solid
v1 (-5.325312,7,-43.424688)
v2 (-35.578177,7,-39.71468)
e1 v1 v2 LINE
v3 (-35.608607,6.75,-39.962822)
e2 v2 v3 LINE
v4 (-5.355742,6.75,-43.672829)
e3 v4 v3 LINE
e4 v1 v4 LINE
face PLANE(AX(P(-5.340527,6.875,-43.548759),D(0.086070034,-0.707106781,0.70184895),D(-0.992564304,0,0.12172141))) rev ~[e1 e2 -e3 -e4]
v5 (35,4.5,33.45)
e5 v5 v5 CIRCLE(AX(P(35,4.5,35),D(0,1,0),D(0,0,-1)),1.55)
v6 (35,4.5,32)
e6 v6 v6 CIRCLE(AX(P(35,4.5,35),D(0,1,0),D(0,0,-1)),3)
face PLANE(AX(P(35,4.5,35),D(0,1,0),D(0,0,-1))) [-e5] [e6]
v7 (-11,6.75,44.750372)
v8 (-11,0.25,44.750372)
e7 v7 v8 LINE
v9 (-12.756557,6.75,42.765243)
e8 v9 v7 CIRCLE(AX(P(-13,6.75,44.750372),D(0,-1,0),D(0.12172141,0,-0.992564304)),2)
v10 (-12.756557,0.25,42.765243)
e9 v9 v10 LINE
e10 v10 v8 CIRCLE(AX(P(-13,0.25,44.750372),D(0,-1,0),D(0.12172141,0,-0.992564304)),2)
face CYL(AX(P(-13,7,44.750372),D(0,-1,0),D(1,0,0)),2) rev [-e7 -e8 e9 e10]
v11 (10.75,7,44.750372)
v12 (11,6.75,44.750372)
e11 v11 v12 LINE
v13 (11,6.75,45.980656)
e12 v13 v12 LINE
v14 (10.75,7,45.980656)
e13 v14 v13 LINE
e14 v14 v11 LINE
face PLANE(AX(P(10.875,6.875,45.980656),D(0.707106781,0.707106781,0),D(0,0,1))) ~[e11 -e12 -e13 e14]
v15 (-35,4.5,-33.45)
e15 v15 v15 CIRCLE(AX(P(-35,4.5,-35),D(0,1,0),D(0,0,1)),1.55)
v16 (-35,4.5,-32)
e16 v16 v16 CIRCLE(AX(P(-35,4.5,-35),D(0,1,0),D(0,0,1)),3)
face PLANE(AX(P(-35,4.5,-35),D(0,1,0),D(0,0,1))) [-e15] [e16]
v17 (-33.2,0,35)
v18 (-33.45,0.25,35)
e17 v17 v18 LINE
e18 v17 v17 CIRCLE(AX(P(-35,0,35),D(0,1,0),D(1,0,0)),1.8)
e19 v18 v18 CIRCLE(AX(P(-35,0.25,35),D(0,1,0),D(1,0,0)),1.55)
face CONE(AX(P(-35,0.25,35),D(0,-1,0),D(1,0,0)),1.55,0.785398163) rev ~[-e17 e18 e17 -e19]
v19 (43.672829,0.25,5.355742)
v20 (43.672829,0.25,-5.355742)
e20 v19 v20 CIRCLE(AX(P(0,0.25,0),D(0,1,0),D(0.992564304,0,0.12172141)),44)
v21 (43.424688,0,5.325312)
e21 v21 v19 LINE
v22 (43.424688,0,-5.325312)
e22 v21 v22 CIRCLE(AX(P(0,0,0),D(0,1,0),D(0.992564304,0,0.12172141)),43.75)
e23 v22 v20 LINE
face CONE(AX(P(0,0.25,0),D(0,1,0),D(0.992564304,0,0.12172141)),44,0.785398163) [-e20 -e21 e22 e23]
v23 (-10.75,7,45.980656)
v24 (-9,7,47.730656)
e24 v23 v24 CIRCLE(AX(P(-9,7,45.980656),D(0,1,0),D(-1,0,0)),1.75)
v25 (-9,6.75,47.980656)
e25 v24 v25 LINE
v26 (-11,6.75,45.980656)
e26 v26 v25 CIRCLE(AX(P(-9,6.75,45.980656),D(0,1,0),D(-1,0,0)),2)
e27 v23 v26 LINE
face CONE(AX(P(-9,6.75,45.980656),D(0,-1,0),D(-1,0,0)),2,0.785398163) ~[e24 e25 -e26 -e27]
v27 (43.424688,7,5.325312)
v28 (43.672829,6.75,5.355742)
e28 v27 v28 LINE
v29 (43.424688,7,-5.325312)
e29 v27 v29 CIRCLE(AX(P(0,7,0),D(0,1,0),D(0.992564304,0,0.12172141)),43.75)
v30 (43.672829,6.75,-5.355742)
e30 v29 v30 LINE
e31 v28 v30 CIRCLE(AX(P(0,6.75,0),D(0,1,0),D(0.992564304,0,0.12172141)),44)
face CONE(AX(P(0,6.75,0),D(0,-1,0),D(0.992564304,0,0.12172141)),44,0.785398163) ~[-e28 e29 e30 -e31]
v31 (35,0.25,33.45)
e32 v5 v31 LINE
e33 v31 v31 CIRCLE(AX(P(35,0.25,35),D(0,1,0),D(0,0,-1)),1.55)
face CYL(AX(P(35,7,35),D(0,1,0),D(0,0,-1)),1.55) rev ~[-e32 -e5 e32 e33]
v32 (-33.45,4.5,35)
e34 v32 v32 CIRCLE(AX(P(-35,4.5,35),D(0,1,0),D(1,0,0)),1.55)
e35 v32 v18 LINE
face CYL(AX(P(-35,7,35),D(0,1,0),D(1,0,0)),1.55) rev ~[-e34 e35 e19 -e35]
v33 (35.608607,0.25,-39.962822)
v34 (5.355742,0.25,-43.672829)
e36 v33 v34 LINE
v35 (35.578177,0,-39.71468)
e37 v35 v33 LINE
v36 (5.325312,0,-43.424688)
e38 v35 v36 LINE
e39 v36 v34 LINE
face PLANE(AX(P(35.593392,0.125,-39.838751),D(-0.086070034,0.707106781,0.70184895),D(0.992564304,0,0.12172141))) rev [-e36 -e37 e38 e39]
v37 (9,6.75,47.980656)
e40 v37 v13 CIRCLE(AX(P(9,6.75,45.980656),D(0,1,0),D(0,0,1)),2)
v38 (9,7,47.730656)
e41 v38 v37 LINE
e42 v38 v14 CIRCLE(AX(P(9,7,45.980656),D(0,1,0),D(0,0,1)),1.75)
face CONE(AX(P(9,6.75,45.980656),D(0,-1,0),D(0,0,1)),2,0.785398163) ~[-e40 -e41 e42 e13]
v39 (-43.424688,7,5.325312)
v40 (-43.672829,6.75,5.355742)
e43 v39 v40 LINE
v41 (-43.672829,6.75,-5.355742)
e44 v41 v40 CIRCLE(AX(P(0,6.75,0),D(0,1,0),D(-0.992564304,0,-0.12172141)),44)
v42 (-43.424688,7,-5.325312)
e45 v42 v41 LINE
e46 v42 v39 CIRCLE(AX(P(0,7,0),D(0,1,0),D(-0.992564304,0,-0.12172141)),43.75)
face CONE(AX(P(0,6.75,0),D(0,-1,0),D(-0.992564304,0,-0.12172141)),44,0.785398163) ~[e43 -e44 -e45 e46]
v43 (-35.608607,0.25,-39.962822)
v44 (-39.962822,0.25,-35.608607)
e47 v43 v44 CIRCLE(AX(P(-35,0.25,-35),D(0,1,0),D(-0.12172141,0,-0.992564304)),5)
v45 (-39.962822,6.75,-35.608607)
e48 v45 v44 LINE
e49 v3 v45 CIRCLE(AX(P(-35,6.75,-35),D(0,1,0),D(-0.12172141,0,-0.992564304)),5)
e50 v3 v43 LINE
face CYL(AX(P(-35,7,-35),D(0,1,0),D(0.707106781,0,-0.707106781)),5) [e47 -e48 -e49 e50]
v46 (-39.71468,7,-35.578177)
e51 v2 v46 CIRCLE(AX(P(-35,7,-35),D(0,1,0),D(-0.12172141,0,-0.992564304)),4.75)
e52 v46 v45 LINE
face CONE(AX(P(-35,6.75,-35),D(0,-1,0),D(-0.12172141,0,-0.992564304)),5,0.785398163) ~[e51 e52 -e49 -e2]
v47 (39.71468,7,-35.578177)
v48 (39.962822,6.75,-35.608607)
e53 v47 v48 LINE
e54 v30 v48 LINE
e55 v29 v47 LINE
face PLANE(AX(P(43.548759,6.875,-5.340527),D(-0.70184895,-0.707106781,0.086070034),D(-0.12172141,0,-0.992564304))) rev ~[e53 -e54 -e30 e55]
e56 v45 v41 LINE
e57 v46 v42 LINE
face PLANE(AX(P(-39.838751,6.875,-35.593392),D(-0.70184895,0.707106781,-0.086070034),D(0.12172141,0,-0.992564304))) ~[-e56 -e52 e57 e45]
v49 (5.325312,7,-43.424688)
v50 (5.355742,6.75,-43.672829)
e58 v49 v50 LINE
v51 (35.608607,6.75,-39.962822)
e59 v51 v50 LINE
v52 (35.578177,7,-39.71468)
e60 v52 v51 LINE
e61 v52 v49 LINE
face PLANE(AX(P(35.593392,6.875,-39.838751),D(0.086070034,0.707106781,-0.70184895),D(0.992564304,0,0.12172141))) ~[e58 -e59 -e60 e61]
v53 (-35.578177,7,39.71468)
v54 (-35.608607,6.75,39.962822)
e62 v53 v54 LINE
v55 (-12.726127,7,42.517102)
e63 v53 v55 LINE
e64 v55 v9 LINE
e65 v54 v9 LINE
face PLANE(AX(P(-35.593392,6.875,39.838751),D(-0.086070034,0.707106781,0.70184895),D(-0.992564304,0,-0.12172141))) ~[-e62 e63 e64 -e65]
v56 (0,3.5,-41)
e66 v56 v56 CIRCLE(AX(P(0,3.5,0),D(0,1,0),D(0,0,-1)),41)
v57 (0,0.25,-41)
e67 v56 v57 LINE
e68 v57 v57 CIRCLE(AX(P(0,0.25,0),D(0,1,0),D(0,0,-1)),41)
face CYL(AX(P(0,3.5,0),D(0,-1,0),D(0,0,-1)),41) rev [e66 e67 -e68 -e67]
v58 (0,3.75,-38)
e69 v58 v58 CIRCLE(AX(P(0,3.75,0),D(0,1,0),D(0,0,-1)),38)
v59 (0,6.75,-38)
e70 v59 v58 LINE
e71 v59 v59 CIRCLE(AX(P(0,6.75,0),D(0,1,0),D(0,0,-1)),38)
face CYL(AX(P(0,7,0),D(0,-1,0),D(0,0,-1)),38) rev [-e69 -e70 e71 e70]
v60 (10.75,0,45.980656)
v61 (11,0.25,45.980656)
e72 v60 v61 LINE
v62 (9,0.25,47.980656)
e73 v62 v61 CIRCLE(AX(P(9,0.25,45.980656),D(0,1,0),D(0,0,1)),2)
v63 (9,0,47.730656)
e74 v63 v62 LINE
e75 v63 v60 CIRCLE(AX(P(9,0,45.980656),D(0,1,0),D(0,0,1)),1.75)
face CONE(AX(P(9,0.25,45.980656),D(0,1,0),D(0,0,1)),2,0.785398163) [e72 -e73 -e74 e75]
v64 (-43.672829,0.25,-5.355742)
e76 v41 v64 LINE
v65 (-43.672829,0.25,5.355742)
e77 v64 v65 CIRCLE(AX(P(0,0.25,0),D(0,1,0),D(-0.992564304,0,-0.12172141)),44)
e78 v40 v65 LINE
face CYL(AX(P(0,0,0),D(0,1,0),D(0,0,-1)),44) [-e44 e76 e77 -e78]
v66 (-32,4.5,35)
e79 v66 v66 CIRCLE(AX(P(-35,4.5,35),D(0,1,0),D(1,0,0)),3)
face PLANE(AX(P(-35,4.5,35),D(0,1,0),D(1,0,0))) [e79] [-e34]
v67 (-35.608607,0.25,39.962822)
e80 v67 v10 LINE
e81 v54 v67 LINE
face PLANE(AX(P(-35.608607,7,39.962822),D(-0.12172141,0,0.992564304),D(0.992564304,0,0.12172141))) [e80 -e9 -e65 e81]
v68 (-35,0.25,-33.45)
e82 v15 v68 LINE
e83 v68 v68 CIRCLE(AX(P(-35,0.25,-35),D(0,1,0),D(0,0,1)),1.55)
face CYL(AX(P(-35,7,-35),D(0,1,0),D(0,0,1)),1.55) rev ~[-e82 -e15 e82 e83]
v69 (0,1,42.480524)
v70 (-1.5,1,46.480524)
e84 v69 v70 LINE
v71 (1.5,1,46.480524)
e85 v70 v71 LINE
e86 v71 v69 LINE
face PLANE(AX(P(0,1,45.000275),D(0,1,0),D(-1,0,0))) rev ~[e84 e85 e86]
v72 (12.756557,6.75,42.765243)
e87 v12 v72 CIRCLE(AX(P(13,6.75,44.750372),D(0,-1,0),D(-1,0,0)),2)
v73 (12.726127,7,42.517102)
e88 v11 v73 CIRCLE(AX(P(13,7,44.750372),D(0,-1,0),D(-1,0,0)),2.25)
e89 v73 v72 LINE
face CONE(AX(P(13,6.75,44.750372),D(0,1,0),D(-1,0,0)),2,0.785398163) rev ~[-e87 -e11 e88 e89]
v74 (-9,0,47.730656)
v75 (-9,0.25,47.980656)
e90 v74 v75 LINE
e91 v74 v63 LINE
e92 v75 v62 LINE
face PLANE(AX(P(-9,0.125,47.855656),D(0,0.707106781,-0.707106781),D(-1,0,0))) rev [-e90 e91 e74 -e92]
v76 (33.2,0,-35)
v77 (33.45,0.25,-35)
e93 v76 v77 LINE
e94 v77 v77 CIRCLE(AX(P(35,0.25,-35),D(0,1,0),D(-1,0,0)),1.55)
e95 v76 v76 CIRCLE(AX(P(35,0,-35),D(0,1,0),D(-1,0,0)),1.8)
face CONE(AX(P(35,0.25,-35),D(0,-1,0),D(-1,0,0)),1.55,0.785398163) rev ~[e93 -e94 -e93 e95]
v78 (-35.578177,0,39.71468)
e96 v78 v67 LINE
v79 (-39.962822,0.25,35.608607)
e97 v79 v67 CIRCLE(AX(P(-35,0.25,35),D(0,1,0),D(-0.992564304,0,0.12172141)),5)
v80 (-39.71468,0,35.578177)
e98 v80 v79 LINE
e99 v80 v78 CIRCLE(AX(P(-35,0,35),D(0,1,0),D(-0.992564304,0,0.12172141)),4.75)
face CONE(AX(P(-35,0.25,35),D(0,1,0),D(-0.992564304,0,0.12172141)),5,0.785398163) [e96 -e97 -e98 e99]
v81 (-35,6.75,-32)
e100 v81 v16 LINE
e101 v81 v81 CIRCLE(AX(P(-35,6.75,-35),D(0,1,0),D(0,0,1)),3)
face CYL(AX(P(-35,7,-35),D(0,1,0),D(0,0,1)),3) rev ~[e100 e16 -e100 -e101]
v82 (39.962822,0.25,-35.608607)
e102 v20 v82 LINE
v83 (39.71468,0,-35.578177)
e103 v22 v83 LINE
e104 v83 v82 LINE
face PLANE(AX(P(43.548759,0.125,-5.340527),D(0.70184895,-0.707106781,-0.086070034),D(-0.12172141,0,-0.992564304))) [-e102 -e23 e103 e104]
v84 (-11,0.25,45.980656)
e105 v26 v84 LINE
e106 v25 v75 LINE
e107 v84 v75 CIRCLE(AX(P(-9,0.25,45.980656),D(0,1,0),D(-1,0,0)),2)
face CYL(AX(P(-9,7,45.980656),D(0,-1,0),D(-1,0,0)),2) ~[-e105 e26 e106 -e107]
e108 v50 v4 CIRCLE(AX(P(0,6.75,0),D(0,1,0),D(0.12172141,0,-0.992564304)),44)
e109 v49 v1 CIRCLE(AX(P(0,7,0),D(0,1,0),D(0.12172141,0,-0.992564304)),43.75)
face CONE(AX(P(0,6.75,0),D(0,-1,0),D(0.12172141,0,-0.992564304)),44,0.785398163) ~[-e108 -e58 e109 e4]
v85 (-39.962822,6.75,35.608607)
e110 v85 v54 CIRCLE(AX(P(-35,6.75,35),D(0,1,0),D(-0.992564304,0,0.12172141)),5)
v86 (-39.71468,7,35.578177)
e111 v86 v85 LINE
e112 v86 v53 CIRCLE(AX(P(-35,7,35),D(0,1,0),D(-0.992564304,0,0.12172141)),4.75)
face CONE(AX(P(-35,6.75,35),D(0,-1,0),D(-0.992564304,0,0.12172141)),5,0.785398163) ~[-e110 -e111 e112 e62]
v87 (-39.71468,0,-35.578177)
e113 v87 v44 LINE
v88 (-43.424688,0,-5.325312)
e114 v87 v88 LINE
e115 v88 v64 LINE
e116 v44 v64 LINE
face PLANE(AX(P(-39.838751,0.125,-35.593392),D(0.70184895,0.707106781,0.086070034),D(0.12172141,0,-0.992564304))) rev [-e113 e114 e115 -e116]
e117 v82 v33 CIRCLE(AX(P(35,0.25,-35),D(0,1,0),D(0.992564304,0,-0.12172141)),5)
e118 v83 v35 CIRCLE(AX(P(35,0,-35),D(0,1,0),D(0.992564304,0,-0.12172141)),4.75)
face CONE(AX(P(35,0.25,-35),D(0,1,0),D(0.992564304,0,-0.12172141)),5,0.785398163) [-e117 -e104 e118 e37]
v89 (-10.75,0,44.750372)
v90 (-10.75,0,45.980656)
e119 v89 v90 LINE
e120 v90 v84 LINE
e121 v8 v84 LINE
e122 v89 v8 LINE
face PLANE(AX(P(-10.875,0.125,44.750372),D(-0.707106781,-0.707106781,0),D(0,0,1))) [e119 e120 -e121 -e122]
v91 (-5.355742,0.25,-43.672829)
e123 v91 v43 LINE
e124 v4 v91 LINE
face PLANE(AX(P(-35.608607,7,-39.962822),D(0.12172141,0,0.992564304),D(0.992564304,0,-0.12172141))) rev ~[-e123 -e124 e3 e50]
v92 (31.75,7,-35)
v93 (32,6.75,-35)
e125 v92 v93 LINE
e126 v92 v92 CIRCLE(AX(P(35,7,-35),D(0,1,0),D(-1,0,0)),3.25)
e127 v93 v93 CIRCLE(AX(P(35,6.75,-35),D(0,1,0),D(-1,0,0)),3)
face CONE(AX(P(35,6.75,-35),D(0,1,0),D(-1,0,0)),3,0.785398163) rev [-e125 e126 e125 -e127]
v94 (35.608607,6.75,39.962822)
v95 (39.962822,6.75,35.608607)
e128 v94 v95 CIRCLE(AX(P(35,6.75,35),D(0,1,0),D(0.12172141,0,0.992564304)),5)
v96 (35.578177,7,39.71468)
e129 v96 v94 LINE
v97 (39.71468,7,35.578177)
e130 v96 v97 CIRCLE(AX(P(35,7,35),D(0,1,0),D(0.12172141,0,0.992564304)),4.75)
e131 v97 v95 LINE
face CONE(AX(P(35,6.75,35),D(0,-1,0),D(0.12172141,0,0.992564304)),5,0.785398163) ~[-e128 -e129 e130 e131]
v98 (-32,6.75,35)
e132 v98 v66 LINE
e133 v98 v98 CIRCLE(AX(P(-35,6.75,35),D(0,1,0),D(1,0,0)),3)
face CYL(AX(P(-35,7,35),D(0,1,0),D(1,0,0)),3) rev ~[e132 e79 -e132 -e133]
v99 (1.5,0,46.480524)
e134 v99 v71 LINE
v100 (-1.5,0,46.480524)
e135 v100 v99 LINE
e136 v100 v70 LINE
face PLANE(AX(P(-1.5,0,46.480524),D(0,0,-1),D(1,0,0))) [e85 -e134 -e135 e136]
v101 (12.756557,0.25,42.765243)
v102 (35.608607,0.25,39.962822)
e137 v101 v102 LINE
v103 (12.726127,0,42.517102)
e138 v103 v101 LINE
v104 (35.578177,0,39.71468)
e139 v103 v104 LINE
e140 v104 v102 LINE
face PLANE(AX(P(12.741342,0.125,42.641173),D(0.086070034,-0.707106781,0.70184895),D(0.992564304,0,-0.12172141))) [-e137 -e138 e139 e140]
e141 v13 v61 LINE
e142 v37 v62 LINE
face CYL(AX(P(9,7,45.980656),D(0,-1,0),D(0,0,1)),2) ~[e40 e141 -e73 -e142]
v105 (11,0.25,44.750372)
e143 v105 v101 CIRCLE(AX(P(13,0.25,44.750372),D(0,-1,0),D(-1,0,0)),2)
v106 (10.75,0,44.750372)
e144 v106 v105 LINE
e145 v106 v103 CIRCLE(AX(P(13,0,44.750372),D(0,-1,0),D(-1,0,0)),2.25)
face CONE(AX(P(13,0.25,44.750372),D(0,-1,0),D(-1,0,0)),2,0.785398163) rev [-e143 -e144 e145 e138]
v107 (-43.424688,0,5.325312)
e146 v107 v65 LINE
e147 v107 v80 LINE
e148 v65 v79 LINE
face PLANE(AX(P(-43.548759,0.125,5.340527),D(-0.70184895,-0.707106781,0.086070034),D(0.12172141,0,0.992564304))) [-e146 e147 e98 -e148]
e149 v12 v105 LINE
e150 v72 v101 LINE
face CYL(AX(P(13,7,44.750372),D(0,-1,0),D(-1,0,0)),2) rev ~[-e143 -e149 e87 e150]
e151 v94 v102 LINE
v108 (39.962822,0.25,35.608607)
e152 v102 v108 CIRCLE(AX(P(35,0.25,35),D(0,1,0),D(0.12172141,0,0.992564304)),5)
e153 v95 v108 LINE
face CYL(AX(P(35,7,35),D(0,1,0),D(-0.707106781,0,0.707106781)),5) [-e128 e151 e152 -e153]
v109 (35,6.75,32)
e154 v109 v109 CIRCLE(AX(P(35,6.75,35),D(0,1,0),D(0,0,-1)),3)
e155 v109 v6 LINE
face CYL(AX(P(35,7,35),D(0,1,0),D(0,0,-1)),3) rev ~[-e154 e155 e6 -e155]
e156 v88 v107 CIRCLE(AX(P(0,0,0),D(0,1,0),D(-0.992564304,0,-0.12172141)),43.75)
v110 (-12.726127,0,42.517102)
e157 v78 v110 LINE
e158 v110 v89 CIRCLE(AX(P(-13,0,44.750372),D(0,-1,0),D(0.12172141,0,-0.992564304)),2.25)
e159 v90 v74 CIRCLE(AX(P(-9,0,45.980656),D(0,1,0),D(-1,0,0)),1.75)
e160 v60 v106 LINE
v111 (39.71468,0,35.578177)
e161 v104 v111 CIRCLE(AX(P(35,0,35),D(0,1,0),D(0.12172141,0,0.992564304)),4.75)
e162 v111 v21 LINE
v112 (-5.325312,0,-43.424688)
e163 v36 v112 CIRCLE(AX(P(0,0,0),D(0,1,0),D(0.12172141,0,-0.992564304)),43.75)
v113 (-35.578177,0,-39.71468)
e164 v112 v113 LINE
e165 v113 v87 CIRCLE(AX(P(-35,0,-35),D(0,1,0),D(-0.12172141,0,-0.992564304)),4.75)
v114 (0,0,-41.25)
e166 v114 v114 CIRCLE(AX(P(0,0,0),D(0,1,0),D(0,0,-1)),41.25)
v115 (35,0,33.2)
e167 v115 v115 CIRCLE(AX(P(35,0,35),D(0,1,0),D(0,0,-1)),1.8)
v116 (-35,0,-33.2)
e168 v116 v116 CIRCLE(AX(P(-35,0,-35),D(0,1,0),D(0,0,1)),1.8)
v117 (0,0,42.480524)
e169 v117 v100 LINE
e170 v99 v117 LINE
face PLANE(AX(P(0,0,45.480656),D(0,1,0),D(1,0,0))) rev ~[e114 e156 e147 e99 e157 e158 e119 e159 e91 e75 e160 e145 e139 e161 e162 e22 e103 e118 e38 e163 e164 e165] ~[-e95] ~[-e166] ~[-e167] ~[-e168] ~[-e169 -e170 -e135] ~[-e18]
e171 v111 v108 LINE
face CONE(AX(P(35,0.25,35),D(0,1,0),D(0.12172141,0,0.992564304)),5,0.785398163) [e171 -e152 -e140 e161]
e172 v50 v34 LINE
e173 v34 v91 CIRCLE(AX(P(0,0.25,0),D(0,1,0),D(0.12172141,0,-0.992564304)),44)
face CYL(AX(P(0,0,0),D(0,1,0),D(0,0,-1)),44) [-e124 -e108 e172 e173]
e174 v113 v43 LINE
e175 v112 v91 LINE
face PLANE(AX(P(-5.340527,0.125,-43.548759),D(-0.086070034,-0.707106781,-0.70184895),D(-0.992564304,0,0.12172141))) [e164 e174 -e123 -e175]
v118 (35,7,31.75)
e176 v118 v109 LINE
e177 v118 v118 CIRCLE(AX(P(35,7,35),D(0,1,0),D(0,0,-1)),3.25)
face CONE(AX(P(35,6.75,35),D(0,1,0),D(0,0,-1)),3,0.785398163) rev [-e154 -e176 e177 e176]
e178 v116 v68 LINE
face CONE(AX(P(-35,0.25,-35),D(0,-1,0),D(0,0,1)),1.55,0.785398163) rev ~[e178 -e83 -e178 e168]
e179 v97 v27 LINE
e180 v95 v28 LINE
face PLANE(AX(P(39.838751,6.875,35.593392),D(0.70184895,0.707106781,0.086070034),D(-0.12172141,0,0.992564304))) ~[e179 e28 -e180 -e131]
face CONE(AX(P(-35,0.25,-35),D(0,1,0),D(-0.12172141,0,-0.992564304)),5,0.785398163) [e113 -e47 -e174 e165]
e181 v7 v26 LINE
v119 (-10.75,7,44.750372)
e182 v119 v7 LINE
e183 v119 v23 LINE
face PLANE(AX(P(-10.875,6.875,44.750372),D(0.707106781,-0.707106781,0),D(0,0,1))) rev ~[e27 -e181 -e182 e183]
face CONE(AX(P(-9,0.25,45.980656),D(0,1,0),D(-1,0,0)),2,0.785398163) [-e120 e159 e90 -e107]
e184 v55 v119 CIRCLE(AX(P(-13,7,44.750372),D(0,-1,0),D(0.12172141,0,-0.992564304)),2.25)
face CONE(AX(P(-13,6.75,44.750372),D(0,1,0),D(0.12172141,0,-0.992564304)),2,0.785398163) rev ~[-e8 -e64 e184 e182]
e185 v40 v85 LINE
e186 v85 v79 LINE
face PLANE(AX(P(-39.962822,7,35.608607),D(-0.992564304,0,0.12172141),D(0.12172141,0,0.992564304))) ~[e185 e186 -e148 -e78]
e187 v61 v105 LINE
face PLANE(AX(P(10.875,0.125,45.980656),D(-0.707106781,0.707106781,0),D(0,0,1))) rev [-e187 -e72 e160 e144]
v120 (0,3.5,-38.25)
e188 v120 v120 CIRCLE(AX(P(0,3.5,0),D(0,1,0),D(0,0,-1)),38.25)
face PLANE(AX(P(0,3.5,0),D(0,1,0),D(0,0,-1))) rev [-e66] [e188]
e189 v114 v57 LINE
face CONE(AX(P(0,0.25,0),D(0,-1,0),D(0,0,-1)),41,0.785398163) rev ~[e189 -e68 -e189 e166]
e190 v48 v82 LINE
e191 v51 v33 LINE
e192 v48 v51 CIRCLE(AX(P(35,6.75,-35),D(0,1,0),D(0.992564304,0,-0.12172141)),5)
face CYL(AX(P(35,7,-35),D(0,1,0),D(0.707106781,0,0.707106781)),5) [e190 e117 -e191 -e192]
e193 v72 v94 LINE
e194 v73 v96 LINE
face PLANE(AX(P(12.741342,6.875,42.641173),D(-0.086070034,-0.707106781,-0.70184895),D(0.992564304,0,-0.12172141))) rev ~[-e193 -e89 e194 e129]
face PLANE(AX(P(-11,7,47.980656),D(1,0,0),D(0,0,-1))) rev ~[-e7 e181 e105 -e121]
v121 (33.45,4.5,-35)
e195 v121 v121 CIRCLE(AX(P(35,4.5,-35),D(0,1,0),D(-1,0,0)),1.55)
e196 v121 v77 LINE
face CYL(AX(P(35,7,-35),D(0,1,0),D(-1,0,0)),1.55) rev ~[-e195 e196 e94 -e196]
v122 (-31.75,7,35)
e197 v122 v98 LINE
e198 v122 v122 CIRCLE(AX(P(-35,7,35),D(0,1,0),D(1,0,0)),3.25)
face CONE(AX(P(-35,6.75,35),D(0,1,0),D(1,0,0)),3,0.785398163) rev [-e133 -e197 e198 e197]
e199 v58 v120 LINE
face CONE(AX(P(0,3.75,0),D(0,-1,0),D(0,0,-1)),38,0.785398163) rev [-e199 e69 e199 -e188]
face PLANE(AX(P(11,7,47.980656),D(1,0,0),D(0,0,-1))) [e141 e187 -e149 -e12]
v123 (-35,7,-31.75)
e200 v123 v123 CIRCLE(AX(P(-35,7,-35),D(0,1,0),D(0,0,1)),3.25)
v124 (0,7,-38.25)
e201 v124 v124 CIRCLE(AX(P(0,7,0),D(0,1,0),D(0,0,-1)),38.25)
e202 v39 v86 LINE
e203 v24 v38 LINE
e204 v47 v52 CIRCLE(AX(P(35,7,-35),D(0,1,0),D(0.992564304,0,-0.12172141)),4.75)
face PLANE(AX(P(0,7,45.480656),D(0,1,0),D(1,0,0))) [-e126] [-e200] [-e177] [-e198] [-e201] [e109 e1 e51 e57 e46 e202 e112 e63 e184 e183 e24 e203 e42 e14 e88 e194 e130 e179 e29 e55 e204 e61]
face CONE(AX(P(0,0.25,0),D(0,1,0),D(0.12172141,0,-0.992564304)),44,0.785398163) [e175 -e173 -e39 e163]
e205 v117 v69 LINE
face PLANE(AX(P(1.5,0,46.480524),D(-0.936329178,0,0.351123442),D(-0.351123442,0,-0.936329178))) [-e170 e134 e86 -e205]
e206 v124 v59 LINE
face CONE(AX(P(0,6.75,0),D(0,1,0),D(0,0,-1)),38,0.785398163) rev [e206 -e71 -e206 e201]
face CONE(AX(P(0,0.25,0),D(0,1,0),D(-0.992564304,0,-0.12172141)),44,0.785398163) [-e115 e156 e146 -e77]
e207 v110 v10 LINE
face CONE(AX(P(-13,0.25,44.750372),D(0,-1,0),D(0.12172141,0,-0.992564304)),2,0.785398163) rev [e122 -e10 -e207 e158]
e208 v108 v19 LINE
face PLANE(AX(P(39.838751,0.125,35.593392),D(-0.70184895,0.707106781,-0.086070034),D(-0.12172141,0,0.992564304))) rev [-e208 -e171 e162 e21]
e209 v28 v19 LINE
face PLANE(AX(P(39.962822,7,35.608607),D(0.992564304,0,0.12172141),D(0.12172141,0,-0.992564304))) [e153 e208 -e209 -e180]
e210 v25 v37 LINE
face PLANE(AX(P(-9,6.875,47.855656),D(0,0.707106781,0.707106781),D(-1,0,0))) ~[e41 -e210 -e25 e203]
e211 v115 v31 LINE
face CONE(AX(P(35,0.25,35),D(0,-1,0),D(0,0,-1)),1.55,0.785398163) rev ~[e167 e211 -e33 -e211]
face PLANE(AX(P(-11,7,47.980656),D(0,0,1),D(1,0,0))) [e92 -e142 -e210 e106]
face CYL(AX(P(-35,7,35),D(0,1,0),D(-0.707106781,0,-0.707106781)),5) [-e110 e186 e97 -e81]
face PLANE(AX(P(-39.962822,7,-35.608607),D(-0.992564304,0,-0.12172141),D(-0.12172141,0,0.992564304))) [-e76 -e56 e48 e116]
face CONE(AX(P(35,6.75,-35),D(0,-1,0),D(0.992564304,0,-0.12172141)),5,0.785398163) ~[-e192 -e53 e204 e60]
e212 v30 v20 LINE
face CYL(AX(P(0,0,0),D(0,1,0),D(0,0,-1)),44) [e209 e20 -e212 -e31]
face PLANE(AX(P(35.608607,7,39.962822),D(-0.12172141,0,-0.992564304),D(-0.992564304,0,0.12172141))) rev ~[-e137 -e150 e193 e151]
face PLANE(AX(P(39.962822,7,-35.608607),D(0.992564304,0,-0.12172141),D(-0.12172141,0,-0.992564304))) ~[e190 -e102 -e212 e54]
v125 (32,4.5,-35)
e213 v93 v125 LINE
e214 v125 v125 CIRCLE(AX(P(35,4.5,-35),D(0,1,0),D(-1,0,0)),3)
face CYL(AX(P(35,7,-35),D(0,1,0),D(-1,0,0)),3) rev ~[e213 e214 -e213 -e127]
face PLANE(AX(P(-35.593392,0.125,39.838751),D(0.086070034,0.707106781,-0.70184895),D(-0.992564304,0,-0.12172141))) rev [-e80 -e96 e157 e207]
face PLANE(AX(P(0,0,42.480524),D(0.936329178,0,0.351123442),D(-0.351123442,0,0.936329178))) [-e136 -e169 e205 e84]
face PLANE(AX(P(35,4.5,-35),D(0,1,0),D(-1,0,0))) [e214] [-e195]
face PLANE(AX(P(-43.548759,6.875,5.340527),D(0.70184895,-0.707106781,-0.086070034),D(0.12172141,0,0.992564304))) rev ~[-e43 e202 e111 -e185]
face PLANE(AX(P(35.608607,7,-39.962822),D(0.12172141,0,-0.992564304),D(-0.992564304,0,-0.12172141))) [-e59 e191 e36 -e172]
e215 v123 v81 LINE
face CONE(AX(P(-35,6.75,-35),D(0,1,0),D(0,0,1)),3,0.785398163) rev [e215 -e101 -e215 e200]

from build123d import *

# Parameters (mm, degrees)
SZKIC2_R                                 = 1.55
DODANIE_WYCI_GNI_CIE1_DEPTH              = 7
SZKIC3_R                                 = 3
WYTNIJ_WYCI_GNI_CIE1_DEPTH               = 2.5
SZYK_KO_OWY3_COUNT                       = 4
DODANIE_WYCI_GNI_CIE2_DEPTH              = 7
LUSTRO1_AT_THE_SECOND_PLANE_COPY_1_DEPTH = 7
SZYK_KO_OWY4_COPY_1_DEPTH                = 7
SZYK_KO_OWY4_COPY_2_DEPTH                = 7
SZYK_KO_OWY4_COPY_3_DEPTH                = 7
SZYK_KO_OWY4_COPY_4_DEPTH                = 7
SZYK_KO_OWY4_COPY_5_DEPTH                = 7
SZYK_KO_OWY4_COPY_6_DEPTH                = 7
SZYK_KO_OWY4_COPY_7_DEPTH                = 7
SZYK_KO_OWY4_COPY_8_DEPTH                = 7
SZYK_KO_OWY4_COPY_9_DEPTH                = 7
SZYK_KO_OWY4_COPY_10_DEPTH               = 7
SZYK_KO_OWY4_COPY_11_DEPTH               = 7
SZYK_KO_OWY4_COPY_12_DEPTH               = 7
SZKIC6_W                                 = 22
SZKIC6_H                                 = 5
DODANIE_WYCI_GNI_CIE3_DEPTH              = 7
ZAOKR_GLENIE1_R                          = 2
SFAZOWANIE1_SIZE                         = 0.25
WYTNIJ_WYCI_GNI_CIE2_DEPTH               = 1


with BuildPart() as part:
    # Szkic1 → Obrót1 (revolve)
    with BuildSketch(Plane.XY, mode=Mode.PRIVATE) as obr_t1_sk:
        Polygon((-44, 0), (-44, 7), (-38, 7), (-38, 3.5), (-41, 3.5), (-41, 0), align=None)
    revolve(obr_t1_sk.sketch.rotate(Axis((0, 0, 0), (0, 1, 0)), 270), axis=Axis((0, 0, 0), (0, 1, 0)))

    # Szkic2 → Dodanie-wyciągnięcie1 (add)
    with BuildSketch(Plane(origin=(0, 7, 0), x_dir=(1, 0, 0), z_dir=(0, 1, 0))):
        with BuildLine():
            Line((-38.535533906, 31.464466094), (-34.446696938, 27.375629126))
            ThreePointArc((-34.446696938, 27.375629126), (-31.112698372, 31.112698372), (-27.375629126, 34.446696938))
            Line((-27.375629126, 34.446696938), (-31.464466094, 38.535533906))
            ThreePointArc((-31.464466094, 38.535533906), (-38.535533906, 38.535533906), (-38.535533906, 31.464466094))
        make_face()
        with Locations(Location((-35, 35, 0), (0, 0, 270))):
            Circle(SZKIC2_R, mode=Mode.SUBTRACT)
    dodanie_wyci_gni_cie1 = extrude(amount=-DODANIE_WYCI_GNI_CIE1_DEPTH)

    # Szkic3 → Wytnij-wyciągnięcie1 (cut)
    with BuildSketch(Plane(origin=(0, 7, 0), x_dir=(1, 0, 0), z_dir=(0, 1, 0))):
        with Locations(Location((-35, 35, 0), (0, 0, 270))):
            Circle(SZKIC3_R)
    wytnij_wyci_gni_cie1 = extrude(amount=-WYTNIJ_WYCI_GNI_CIE1_DEPTH, mode=Mode.SUBTRACT)

    # Szyk kołowy3: Dodanie-wyciągnięcie1, Wytnij-wyciągnięcie1 ×4 about axis
    szyk_ko_owy3_axis = Axis((0, 0, 0), (0, 1, 0))
    add([dodanie_wyci_gni_cie1.rotate(szyk_ko_owy3_axis, i * 360 / SZYK_KO_OWY3_COUNT) for i in range(1, SZYK_KO_OWY3_COUNT)])
    add([wytnij_wyci_gni_cie1.rotate(szyk_ko_owy3_axis, i * 360 / SZYK_KO_OWY3_COUNT) for i in range(1, SZYK_KO_OWY3_COUNT)], mode=Mode.SUBTRACT)

    # Szkic4 → Dodanie-wyciągnięcie2 (add)
    with BuildSketch(Plane(origin=(0, 7, 0), x_dir=(1, 0, 0), z_dir=(0, 1, 0))):
        with BuildLine():
            Line((-39.962821522, 35.608607049), (-43.672829394, 5.355742035))
            ThreePointArc((-43.672829394, 5.355742035), (-40.58181804, 17.003412732), (-34.446696938, 27.375629126))
            Line((-34.446696938, 27.375629126), (-38.535533906, 31.464466094))
            ThreePointArc((-38.535533906, 31.464466094), (-39.727471556, 33.371806925), (-39.962821522, 35.608607049))
        make_face()
    dodanie_wyci_gni_cie2 = extrude(amount=-DODANIE_WYCI_GNI_CIE2_DEPTH)

    # Lustro1: Dodanie-wyciągnięcie2 across plane
    add(dodanie_wyci_gni_cie2.mirror(Plane.XY))

    # Lustro1 at the second plane: Dodanie-wyciągnięcie2 across plane
    add(dodanie_wyci_gni_cie2.mirror(Plane(origin=(0, 0, 0), x_dir=(0, 0, 1), z_dir=(1, 0, 0))))

    # Lustro1 at the second plane copy 1 sketc → Lustro1 at the second plane copy 1 (add)
    with BuildSketch(Plane(origin=(0, 7, 0), x_dir=(-1, 0, 0), z_dir=(0, 1, 0))):
        with BuildLine():
            Line((-39.962821522, 35.608607049), (-43.672829394, 5.355742035))
            ThreePointArc((-43.672829394, 5.355742035), (-40.58181804, 17.003412732), (-34.446696938, 27.375629126))
            Line((-34.446696938, 27.375629126), (-38.535533906, 31.464466094))
            ThreePointArc((-38.535533906, 31.464466094), (-39.727471556, 33.371806925), (-39.962821522, 35.608607049))
        make_face()
    extrude(amount=-LUSTRO1_AT_THE_SECOND_PLANE_COPY_1_DEPTH)

    # Szyk kołowy4 copy 1 sketch → Szyk kołowy4 copy 1 (add)
    with BuildSketch(Plane.ZX.offset(7)):
        with BuildLine():
            Line((-39.962821522, -35.608607049), (-43.672829394, -5.355742035))
            ThreePointArc((-43.672829394, -5.355742035), (-40.58181804, -17.003412732), (-34.446696938, -27.375629126))
            Line((-34.446696938, -27.375629126), (-38.535533906, -31.464466094))
            ThreePointArc((-38.535533906, -31.464466094), (-39.727471556, -33.371806925), (-39.962821522, -35.608607049))
        make_face()
    extrude(amount=-SZYK_KO_OWY4_COPY_1_DEPTH)

    # Szyk kołowy4 copy 2 sketch → Szyk kołowy4 copy 2 (add)
    with BuildSketch(Plane(origin=(0, 7, 0), x_dir=(-1, 0, 0), z_dir=(0, 1, 0))):
        with BuildLine():
            Line((-39.962821522, -35.608607049), (-43.672829394, -5.355742035))
            ThreePointArc((-43.672829394, -5.355742035), (-40.58181804, -17.003412732), (-34.446696938, -27.375629126))
            Line((-34.446696938, -27.375629126), (-38.535533906, -31.464466094))
            ThreePointArc((-38.535533906, -31.464466094), (-39.727471556, -33.371806925), (-39.962821522, -35.608607049))
        make_face()
    extrude(amount=-SZYK_KO_OWY4_COPY_2_DEPTH)

    # Szyk kołowy4 copy 3 sketch → Szyk kołowy4 copy 3 (add)
    with BuildSketch(Plane(origin=(0, 7, 0), x_dir=(0, 0, -1), z_dir=(0, 1, 0))):
        with BuildLine():
            Line((-39.962821522, -35.608607049), (-43.672829394, -5.355742035))
            ThreePointArc((-43.672829394, -5.355742035), (-40.58181804, -17.003412732), (-34.446696938, -27.375629126))
            Line((-34.446696938, -27.375629126), (-38.535533906, -31.464466094))
            ThreePointArc((-38.535533906, -31.464466094), (-39.727471556, -33.371806925), (-39.962821522, -35.608607049))
        make_face()
    extrude(amount=-SZYK_KO_OWY4_COPY_3_DEPTH)

    # Szyk kołowy4 copy 4 sketch → Szyk kołowy4 copy 4 (add)
    with BuildSketch(Plane(origin=(0, 7, 0), x_dir=(0, 0, -1), z_dir=(0, 1, 0))):
        with BuildLine():
            Line((-39.962821522, -35.608607049), (-43.672829394, -5.355742035))
            ThreePointArc((-43.672829394, -5.355742035), (-40.58181804, -17.003412732), (-34.446696938, -27.375629126))
            Line((-34.446696938, -27.375629126), (-38.535533906, -31.464466094))
            ThreePointArc((-38.535533906, -31.464466094), (-39.727471556, -33.371806925), (-39.962821522, -35.608607049))
        make_face()
    extrude(amount=-SZYK_KO_OWY4_COPY_4_DEPTH)

    # Szyk kołowy4 copy 5 sketch → Szyk kołowy4 copy 5 (add)
    with BuildSketch(Plane(origin=(0, 7, 0), x_dir=(1, 0, 0), z_dir=(0, 1, 0))):
        with BuildLine():
            Line((-39.962821522, -35.608607049), (-43.672829394, -5.355742035))
            ThreePointArc((-43.672829394, -5.355742035), (-40.58181804, -17.003412732), (-34.446696938, -27.375629126))
            Line((-34.446696938, -27.375629126), (-38.535533906, -31.464466094))
            ThreePointArc((-38.535533906, -31.464466094), (-39.727471556, -33.371806925), (-39.962821522, -35.608607049))
        make_face()
    extrude(amount=-SZYK_KO_OWY4_COPY_5_DEPTH)

    # Szyk kołowy4 copy 6 sketch → Szyk kołowy4 copy 6 (add)
    with BuildSketch(Plane.ZX.offset(7)):
        with BuildLine():
            Line((-39.962821522, -35.608607049), (-43.672829394, -5.355742035))
            ThreePointArc((-43.672829394, -5.355742035), (-40.58181804, -17.003412732), (-34.446696938, -27.375629126))
            Line((-34.446696938, -27.375629126), (-38.535533906, -31.464466094))
            ThreePointArc((-38.535533906, -31.464466094), (-39.727471556, -33.371806925), (-39.962821522, -35.608607049))
        make_face()
    extrude(amount=-SZYK_KO_OWY4_COPY_6_DEPTH)

    # Szyk kołowy4 copy 7 sketch → Szyk kołowy4 copy 7 (add)
    with BuildSketch(Plane(origin=(0, 7, 0), x_dir=(0, 0, -1), z_dir=(0, 1, 0))):
        with BuildLine():
            Line((-39.962821522, 35.608607049), (-43.672829394, 5.355742035))
            ThreePointArc((-43.672829394, 5.355742035), (-40.58181804, 17.003412732), (-34.446696938, 27.375629126))
            Line((-34.446696938, 27.375629126), (-38.535533906, 31.464466094))
            ThreePointArc((-38.535533906, 31.464466094), (-39.727471556, 33.371806925), (-39.962821522, 35.608607049))
        make_face()
    extrude(amount=-SZYK_KO_OWY4_COPY_7_DEPTH)

    # Szyk kołowy4 copy 8 sketch → Szyk kołowy4 copy 8 (add)
    with BuildSketch(Plane(origin=(0, 7, 0), x_dir=(1, 0, 0), z_dir=(0, 1, 0))):
        with BuildLine():
            Line((-39.962821522, 35.608607049), (-43.672829394, 5.355742035))
            ThreePointArc((-43.672829394, 5.355742035), (-40.58181804, 17.003412732), (-34.446696938, 27.375629126))
            Line((-34.446696938, 27.375629126), (-38.535533906, 31.464466094))
            ThreePointArc((-38.535533906, 31.464466094), (-39.727471556, 33.371806925), (-39.962821522, 35.608607049))
        make_face()
    extrude(amount=-SZYK_KO_OWY4_COPY_8_DEPTH)

    # Szyk kołowy4 copy 9 sketch → Szyk kołowy4 copy 9 (add)
    with BuildSketch(Plane.ZX.offset(7)):
        with BuildLine():
            Line((-39.962821522, 35.608607049), (-43.672829394, 5.355742035))
            ThreePointArc((-43.672829394, 5.355742035), (-40.58181804, 17.003412732), (-34.446696938, 27.375629126))
            Line((-34.446696938, 27.375629126), (-38.535533906, 31.464466094))
            ThreePointArc((-38.535533906, 31.464466094), (-39.727471556, 33.371806925), (-39.962821522, 35.608607049))
        make_face()
    extrude(amount=-SZYK_KO_OWY4_COPY_9_DEPTH)

    # Szyk kołowy4 copy 10 sketch → Szyk kołowy4 copy 10 (add)
    with BuildSketch(Plane.ZX.offset(7)):
        with BuildLine():
            Line((-39.962821522, 35.608607049), (-43.672829394, 5.355742035))
            ThreePointArc((-43.672829394, 5.355742035), (-40.58181804, 17.003412732), (-34.446696938, 27.375629126))
            Line((-34.446696938, 27.375629126), (-38.535533906, 31.464466094))
            ThreePointArc((-38.535533906, 31.464466094), (-39.727471556, 33.371806925), (-39.962821522, 35.608607049))
        make_face()
    extrude(amount=-SZYK_KO_OWY4_COPY_10_DEPTH)

    # Szyk kołowy4 copy 11 sketch → Szyk kołowy4 copy 11 (add)
    with BuildSketch(Plane(origin=(0, 7, 0), x_dir=(-1, 0, 0), z_dir=(0, 1, 0))):
        with BuildLine():
            Line((-39.962821522, 35.608607049), (-43.672829394, 5.355742035))
            ThreePointArc((-43.672829394, 5.355742035), (-40.58181804, 17.003412732), (-34.446696938, 27.375629126))
            Line((-34.446696938, 27.375629126), (-38.535533906, 31.464466094))
            ThreePointArc((-38.535533906, 31.464466094), (-39.727471556, 33.371806925), (-39.962821522, 35.608607049))
        make_face()
    extrude(amount=-SZYK_KO_OWY4_COPY_11_DEPTH)

    # Szyk kołowy4 copy 12 sketch → Szyk kołowy4 copy 12 (add)
    with BuildSketch(Plane(origin=(0, 7, 0), x_dir=(0, 0, -1), z_dir=(0, 1, 0))):
        with BuildLine():
            Line((-39.962821522, 35.608607049), (-43.672829394, 5.355742035))
            ThreePointArc((-43.672829394, 5.355742035), (-40.58181804, 17.003412732), (-34.446696938, 27.375629126))
            Line((-34.446696938, 27.375629126), (-38.535533906, 31.464466094))
            ThreePointArc((-38.535533906, 31.464466094), (-39.727471556, 33.371806925), (-39.962821522, 35.608607049))
        make_face()
    extrude(amount=-SZYK_KO_OWY4_COPY_12_DEPTH)

    # Szkic6 → Dodanie-wyciągnięcie3 (add)
    with BuildSketch(Plane(origin=(0, 7, 0), x_dir=(1, 0, 0), z_dir=(0, 1, 0))):
        with Locations((0, -45.480655563)):
            Rectangle(SZKIC6_W, SZKIC6_H)
    extrude(amount=-DODANIE_WYCI_GNI_CIE3_DEPTH)

    # Zaokrąglenie1
    zaokr_glenie1_edges = [part.edges().sort_by_distance(p)[0] for p in [
        (-11, 3.5, 47.980655563),
        (-11, 3.5, 42.980655563),
        (11, 3.5, 42.980655563),
        (11, 3.5, 47.980655563),
    ]]
    fillet(zaokr_glenie1_edges, radius=ZAOKR_GLENIE1_R)

    # Sfazowanie1
    sfazowanie1_edges = [part.edges().sort_by_distance(p)[0] for p in [
        (-38.535533906, 0, -38.535533906),
        (-41.817825458, 0, -20.482174542),
        (-41.817825458, 7, -20.482174542),
        (38.535533906, 7, -38.535533906),
        (44, 7, 0),
        (44, 0, 0),
        (41.817825458, 7, -20.482174542),
        (41.817825458, 0, -20.482174542),
        (-38.535533906, 7, 38.535533906),
        (-44, 7, 0),
        (-44, 0, 0),
        (-41.817825458, 7, 20.482174542),
        (-41.817825458, 0, 20.482174542),
        (38.535533906, 0, 38.535533906),
        (41.817825458, 0, 20.482174542),
        (41.817825458, 7, 20.482174542),
        (-38.535533906, 7, -38.535533906),
        (0, 7, -44),
        (0, 0, -44),
        (-20.482174542, 7, -41.817825458),
        (-20.482174542, 0, -41.817825458),
        (38.535533906, 7, 38.535533906),
        (24.182582115, 0, 41.364032364),
        (38.535533906, 0, -38.535533906),
        (-35, 0, -36.55),
        (20.482174542, 0, -41.817825458),
        (20.482174542, 7, -41.817825458),
        (-38.535533906, 0, 38.535533906),
        (-24.182582115, 0, 41.364032364),
        (-35, 7, -38),
        (11, 0, 45.365513688),
        (11, 7, 45.365513688),
        (24.182582115, 7, 41.364032364),
        (0, 0, 47.980655563),
        (0, 7, 47.980655563),
        (-24.182582115, 7, 41.364032364),
        (-11, 7, 45.365513688),
        (-10.414213562, 7, 47.394869125),
        (10.414213562, 7, 47.394869125),
        (-11, 0, 45.365513688),
        (-10.414213562, 0, 47.394869125),
        (10.414213562, 0, 47.394869125),
        (11.502187322, 7, 43.425020095),
        (11.502187322, 0, 43.425020095),
        (-11.502187322, 7, 43.425020095),
        (-11.502187322, 0, 43.425020095),
        (36.55, 0, -35),
        (35, 0, 36.55),
        (0, 0, 41),
        (0, 3.5, 38),
        (0, 7, 38),
        (-36.55, 0, 35),
        (38, 7, -35),
        (35, 7, 38),
        (-38, 7, 35),
    ]]
    chamfer(sfazowanie1_edges, length=SFAZOWANIE1_SIZE)

    # Szkic7 → Wytnij-wyciągnięcie2 (cut)
    with BuildSketch(Plane.XZ):
        Polygon((0, 42.480524216), (-1.5, 46.480524216), (1.5, 46.480524216), align=None)
    extrude(amount=-WYTNIJ_WYCI_GNI_CIE2_DEPTH, mode=Mode.SUBTRACT)


solid = part.part
